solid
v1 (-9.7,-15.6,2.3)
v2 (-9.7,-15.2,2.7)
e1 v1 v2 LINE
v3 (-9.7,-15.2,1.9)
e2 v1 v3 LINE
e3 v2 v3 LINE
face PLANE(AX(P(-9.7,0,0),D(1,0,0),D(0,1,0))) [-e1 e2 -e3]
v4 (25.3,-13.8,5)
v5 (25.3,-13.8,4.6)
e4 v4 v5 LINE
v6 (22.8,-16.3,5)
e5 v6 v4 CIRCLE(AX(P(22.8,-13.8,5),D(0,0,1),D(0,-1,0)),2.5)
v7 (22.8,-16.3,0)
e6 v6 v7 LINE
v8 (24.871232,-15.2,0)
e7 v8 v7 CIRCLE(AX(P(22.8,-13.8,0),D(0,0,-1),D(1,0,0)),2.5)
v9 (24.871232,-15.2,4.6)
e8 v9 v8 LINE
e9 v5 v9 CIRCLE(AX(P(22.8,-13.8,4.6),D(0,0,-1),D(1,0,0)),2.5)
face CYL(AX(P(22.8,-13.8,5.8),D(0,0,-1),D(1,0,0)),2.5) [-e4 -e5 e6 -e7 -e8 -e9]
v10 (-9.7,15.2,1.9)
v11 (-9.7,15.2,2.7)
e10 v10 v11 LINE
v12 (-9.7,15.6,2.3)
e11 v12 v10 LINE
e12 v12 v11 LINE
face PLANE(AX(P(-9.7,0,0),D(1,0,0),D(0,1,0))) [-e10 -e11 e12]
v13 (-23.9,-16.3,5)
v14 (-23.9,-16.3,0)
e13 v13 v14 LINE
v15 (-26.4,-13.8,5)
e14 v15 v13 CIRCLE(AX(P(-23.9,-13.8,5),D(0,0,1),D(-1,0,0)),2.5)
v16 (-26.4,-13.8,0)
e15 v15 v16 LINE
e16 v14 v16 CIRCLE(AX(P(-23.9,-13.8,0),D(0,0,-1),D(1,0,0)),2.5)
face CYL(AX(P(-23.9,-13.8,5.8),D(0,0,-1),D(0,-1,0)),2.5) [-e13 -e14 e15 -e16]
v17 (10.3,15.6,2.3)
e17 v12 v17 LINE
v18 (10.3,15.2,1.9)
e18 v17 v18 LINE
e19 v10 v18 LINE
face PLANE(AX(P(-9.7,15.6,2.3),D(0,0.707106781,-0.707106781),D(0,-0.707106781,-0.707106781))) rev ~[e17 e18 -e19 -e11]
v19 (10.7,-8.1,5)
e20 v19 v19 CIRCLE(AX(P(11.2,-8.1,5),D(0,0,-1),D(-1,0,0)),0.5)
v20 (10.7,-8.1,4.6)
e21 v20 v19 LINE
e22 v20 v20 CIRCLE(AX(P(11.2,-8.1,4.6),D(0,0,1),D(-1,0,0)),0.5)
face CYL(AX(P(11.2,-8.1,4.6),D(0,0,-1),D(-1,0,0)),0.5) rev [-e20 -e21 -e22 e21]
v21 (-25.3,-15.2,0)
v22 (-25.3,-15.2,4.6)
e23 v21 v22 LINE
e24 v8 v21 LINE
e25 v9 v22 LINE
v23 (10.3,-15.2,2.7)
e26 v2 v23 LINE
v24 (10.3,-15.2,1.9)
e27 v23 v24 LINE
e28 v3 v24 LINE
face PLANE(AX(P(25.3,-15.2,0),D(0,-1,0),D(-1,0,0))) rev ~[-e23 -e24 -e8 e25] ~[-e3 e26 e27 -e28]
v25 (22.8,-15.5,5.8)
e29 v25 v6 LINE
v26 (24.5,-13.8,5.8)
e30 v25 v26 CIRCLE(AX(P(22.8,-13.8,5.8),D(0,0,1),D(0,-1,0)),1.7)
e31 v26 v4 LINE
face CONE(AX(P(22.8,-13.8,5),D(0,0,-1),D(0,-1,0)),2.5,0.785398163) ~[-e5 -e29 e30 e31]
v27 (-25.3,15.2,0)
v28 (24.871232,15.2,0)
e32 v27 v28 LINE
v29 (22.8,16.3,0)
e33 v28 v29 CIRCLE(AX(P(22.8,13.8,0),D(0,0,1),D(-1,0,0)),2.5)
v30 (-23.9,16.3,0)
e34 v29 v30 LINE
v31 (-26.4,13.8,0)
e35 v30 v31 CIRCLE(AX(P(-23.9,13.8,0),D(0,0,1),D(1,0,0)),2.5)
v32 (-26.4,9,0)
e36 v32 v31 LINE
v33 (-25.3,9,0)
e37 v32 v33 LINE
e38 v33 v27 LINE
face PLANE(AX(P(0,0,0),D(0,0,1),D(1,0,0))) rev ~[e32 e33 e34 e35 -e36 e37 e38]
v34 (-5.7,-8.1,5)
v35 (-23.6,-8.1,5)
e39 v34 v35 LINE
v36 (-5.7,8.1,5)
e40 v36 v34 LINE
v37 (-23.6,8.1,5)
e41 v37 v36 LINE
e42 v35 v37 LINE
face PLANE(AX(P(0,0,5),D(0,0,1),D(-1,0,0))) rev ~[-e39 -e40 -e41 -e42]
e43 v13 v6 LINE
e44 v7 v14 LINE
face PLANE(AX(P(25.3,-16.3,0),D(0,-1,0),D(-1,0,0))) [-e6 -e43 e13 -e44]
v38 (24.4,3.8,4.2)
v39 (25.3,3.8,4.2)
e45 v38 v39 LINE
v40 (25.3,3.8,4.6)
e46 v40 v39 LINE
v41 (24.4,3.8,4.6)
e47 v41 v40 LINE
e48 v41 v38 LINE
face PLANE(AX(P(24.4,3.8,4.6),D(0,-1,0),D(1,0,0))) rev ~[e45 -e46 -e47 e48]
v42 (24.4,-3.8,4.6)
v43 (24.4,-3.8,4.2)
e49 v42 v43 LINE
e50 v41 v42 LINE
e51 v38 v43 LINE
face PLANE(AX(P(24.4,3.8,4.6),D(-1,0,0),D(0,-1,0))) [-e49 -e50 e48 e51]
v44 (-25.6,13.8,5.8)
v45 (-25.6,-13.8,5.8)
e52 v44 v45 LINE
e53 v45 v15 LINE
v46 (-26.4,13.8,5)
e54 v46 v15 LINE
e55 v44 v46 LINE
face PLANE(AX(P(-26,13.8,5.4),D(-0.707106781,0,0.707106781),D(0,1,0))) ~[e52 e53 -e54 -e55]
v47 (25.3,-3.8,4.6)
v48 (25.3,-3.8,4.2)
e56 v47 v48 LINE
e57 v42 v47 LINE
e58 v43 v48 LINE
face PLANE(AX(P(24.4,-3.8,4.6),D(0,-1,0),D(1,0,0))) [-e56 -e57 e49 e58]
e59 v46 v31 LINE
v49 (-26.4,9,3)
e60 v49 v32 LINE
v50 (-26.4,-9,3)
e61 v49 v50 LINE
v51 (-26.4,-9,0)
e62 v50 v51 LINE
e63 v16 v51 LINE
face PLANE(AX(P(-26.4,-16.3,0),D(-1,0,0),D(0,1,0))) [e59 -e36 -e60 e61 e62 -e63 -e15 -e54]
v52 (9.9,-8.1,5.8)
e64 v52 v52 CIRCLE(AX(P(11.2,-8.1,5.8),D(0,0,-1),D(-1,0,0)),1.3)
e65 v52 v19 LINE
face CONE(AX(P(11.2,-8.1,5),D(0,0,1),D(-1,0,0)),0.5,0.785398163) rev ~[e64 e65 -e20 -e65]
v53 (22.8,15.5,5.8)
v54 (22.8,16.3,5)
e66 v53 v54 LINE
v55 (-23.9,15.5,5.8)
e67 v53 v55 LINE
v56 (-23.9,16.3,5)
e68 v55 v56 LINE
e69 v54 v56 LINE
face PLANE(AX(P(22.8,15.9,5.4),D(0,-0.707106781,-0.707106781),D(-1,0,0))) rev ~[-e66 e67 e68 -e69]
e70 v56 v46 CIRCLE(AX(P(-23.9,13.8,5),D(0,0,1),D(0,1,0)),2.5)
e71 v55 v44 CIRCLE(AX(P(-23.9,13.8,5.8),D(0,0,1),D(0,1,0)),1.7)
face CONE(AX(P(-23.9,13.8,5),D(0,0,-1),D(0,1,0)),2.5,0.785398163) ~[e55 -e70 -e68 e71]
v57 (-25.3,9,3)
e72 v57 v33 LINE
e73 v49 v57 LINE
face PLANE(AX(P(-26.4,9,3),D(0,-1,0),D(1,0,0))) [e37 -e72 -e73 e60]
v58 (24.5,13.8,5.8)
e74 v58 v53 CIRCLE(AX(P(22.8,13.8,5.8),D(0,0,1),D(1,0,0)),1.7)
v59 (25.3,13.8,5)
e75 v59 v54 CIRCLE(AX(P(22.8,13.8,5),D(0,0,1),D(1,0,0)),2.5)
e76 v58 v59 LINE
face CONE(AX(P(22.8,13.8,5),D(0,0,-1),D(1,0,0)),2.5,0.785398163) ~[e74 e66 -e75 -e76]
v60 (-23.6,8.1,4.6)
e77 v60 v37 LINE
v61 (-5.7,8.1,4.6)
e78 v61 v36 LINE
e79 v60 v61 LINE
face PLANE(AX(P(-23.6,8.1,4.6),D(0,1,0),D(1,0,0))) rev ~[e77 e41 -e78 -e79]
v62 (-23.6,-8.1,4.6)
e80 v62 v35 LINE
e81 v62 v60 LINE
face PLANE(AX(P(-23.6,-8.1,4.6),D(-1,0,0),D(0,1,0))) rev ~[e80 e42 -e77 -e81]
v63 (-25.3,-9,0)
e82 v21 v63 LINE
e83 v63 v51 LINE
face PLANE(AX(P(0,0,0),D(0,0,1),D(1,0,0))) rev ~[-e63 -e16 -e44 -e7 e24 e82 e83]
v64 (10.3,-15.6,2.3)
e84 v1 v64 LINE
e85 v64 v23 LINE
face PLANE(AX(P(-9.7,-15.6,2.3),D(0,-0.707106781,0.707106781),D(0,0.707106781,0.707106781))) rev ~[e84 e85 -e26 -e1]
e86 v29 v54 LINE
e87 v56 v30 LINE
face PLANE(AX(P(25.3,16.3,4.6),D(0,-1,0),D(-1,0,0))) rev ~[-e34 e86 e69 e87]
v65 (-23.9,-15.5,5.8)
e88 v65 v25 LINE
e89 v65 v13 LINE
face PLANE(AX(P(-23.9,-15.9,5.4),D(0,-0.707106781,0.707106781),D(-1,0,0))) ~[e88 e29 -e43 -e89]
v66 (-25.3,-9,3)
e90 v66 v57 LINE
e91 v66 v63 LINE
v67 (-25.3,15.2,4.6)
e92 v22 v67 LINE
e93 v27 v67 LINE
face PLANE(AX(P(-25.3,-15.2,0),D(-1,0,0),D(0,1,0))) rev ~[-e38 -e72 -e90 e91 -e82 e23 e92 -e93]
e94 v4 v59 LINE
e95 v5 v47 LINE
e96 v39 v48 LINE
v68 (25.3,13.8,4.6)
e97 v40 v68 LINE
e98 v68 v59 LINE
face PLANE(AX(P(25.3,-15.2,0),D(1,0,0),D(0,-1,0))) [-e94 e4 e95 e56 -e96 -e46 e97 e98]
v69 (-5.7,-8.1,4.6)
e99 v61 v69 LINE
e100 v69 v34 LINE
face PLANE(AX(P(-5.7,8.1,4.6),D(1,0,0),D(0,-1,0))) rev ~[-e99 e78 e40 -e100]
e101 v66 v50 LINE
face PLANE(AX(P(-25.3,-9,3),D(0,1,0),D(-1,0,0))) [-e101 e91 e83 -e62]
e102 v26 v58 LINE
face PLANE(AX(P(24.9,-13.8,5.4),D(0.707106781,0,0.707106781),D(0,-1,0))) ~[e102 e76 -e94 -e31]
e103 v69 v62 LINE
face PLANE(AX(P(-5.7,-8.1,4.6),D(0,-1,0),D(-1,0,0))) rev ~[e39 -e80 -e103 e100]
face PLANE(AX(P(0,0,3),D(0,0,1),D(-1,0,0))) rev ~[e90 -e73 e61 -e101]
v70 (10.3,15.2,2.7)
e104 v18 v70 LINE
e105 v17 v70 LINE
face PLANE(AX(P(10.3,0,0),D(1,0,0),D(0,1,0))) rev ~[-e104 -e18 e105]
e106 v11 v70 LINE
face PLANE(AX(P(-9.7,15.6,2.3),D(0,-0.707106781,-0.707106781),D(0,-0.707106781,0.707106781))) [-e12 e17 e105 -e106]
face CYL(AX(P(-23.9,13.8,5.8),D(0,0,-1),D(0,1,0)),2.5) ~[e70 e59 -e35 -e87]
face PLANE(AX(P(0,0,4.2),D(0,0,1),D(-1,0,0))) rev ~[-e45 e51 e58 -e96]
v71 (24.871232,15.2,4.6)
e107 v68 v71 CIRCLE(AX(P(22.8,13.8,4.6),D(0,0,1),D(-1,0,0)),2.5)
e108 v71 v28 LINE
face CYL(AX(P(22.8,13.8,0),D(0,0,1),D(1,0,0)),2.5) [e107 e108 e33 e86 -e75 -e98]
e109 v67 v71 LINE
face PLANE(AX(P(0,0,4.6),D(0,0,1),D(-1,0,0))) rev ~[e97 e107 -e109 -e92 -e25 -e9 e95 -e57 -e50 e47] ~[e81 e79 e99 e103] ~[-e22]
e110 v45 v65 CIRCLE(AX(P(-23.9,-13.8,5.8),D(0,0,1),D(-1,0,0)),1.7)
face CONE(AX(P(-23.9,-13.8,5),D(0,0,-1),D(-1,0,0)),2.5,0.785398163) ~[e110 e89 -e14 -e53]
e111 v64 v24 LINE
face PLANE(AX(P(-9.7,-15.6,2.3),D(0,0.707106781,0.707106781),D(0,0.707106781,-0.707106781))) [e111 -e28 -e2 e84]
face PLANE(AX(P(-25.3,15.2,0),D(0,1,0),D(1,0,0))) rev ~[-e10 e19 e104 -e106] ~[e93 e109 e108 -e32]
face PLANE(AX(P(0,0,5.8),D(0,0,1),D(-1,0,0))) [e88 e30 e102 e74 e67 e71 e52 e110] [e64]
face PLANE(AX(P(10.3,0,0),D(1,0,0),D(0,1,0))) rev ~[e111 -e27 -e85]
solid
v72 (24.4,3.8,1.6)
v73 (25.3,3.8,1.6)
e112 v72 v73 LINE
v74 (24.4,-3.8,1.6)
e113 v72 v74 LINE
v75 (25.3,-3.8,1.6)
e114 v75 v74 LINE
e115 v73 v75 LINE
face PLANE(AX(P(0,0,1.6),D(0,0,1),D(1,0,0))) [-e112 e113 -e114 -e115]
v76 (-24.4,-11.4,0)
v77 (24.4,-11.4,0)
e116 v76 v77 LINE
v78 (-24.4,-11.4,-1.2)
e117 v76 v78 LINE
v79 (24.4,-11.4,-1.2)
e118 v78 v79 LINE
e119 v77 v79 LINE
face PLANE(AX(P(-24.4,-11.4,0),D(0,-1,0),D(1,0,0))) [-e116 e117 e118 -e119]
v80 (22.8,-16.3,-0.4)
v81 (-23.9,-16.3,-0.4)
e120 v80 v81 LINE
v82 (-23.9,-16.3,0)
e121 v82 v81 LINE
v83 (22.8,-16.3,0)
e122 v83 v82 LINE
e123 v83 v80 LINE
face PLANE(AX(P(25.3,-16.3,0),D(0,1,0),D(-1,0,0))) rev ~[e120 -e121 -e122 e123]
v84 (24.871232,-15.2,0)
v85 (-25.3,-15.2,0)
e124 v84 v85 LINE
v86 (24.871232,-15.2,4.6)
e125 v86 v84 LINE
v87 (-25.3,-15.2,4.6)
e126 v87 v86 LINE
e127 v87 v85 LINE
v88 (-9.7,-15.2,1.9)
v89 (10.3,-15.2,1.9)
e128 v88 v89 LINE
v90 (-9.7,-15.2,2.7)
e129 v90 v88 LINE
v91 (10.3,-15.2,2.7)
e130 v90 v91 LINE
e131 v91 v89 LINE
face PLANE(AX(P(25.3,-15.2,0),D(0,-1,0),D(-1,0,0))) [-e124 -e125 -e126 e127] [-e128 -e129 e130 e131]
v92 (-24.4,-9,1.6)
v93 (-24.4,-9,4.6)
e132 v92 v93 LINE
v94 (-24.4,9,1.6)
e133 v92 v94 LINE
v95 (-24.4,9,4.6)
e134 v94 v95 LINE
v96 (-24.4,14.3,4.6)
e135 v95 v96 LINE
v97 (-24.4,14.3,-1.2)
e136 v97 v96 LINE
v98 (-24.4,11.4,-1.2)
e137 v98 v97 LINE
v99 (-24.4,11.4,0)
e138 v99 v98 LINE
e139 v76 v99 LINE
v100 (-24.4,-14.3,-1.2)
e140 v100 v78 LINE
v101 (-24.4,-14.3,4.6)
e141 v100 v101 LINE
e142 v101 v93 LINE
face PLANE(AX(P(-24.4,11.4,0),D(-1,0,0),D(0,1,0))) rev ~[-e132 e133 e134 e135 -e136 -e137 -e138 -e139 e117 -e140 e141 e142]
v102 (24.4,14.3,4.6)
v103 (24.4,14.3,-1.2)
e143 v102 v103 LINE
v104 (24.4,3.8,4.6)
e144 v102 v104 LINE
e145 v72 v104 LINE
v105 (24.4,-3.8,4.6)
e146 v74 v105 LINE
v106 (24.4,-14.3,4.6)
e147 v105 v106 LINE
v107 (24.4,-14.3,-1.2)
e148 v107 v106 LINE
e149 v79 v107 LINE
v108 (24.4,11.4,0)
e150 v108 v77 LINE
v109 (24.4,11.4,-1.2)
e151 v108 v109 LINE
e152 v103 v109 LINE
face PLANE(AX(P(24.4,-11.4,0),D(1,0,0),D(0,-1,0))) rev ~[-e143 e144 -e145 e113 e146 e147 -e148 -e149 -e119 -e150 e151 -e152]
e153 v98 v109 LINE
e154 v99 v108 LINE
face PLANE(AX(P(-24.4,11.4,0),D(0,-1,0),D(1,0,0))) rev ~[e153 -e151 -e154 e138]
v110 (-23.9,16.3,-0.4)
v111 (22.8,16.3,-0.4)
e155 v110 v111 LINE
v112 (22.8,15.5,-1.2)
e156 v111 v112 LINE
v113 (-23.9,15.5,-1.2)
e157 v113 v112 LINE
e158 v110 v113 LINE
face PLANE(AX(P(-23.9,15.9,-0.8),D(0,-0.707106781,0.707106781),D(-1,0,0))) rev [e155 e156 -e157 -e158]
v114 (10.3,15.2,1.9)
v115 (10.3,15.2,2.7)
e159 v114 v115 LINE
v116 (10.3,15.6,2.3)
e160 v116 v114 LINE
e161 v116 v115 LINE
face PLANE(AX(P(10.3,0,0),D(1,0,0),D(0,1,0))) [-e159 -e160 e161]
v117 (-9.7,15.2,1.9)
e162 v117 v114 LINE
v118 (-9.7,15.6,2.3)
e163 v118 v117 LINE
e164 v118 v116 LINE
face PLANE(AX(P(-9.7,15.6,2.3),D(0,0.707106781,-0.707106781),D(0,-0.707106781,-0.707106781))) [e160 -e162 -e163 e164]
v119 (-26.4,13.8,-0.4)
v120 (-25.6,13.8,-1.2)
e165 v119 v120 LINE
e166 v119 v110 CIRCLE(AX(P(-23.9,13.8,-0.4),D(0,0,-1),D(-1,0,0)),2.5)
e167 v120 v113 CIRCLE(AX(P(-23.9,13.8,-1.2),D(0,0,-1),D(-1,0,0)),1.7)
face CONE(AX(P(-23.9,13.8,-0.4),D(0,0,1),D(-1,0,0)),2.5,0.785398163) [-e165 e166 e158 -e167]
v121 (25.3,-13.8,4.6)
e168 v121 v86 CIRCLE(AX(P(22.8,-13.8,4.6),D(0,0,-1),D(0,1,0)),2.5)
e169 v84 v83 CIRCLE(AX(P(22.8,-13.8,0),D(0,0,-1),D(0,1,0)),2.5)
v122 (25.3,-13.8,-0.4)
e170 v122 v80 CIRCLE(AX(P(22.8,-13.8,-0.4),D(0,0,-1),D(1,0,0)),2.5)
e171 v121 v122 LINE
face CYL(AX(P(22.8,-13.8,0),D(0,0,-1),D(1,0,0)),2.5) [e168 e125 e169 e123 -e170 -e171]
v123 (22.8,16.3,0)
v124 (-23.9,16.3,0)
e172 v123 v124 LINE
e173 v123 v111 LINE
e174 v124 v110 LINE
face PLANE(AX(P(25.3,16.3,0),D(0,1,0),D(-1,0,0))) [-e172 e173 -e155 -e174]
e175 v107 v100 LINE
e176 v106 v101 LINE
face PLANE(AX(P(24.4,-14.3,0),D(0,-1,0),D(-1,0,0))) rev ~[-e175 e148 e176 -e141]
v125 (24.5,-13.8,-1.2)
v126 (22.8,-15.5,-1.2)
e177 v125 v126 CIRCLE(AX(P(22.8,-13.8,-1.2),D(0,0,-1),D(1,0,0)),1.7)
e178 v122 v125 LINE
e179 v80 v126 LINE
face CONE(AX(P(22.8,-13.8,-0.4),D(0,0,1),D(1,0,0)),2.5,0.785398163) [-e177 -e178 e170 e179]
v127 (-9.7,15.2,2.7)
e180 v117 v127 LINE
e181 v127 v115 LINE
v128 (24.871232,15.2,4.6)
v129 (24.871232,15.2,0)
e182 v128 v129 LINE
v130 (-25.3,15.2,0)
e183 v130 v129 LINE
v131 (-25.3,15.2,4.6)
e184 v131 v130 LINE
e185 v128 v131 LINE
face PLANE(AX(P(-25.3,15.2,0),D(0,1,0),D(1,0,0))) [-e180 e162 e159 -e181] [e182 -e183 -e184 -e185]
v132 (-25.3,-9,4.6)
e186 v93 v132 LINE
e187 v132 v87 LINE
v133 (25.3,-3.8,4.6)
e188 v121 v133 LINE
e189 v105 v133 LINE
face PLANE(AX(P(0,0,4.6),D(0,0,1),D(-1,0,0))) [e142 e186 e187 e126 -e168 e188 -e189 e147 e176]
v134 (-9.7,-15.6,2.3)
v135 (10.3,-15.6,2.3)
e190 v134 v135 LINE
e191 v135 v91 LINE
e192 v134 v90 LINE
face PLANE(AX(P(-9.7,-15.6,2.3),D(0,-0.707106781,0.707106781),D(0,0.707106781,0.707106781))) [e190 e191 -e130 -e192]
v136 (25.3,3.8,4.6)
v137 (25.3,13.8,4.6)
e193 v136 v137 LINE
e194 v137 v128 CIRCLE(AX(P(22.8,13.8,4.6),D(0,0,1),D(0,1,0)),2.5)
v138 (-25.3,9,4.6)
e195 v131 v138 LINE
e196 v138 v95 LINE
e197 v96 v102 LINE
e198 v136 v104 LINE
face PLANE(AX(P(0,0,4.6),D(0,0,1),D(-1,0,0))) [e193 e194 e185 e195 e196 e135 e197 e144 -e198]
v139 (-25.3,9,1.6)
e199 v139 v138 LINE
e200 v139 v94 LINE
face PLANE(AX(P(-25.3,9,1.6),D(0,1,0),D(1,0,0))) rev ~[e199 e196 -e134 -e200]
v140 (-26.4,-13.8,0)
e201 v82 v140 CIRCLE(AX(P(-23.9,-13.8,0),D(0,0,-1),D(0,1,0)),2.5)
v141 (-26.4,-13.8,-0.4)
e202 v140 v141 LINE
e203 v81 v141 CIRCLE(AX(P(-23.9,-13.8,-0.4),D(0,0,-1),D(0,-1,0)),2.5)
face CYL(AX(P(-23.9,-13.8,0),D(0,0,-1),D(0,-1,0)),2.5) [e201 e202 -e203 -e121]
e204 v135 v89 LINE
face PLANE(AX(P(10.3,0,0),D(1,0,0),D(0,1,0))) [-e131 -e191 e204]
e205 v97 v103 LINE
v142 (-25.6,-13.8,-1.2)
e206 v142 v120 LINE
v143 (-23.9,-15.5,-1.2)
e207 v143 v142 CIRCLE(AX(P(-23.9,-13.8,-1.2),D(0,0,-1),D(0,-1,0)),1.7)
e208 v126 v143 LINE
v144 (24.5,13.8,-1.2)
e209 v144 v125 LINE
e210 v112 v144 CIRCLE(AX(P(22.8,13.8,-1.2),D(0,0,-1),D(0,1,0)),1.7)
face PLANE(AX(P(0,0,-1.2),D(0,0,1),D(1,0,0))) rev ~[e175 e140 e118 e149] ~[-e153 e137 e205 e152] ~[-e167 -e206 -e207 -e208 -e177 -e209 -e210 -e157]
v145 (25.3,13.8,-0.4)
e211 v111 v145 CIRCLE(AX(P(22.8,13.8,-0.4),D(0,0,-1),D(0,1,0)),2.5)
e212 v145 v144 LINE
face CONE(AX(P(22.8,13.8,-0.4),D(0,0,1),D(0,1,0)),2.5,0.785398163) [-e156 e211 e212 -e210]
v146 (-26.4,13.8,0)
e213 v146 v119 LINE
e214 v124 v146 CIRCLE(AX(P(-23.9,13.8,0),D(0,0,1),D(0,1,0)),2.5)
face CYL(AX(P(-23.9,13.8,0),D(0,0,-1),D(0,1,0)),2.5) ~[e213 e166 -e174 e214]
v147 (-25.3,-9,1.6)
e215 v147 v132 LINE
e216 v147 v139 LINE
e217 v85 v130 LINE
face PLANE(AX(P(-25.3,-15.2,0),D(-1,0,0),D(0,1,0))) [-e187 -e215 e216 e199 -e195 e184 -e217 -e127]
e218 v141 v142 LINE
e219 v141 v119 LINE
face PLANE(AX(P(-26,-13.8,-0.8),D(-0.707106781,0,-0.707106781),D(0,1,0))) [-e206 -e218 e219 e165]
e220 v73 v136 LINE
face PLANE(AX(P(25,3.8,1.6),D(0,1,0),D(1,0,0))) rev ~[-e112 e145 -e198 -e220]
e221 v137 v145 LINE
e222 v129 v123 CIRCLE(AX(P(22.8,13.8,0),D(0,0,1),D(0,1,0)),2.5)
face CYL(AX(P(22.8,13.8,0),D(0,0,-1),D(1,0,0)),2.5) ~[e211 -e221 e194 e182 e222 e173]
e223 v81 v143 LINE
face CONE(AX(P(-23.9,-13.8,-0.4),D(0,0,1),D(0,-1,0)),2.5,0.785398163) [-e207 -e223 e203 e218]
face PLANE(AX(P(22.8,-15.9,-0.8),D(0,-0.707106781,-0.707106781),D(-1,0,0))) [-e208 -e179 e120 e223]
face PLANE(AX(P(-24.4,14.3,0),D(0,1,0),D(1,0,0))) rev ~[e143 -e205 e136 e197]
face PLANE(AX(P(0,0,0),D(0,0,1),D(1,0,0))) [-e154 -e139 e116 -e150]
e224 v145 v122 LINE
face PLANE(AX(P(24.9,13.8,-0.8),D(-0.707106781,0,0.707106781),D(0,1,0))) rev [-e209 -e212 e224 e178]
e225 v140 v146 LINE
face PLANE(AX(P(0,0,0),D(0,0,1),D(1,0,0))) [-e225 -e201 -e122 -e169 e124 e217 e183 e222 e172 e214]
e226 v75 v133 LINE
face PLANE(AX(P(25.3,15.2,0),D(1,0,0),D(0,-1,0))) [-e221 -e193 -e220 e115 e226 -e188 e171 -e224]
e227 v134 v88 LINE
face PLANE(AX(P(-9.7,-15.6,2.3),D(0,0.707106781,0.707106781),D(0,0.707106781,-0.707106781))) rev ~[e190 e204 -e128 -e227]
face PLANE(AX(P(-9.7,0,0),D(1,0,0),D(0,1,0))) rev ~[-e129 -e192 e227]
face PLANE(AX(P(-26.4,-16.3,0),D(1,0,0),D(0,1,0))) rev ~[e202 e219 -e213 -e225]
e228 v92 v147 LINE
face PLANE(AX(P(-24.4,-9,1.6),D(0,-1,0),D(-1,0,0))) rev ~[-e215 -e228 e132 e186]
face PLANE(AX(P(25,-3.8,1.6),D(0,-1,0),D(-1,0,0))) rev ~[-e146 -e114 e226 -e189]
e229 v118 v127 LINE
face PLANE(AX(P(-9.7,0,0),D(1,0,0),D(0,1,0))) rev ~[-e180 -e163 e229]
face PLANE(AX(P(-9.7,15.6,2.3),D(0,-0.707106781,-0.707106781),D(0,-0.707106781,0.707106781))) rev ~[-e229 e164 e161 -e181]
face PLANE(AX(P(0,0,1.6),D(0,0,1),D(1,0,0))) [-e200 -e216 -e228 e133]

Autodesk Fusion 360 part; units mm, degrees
sketch "Board" plane through (0, 0, 0) normal (0, 0, 1) x (1, 0, 0)
  line L0 (-24.2, 14.1) -> (24.2, 14.1)
  line L1 (24.2, 14.1) -> (24.2, -14.1)
  line L2 (24.2, -14.1) -> (-24.2, -14.1)
  line L3 (-24.2, -14.1) -> (-24.2, 14.1)
  line L4 (-24.2, 14.1) -> (24.2, -14.1) construction
  line L5 (24.2, 14.1) -> (-24.2, -14.1) construction
  line L6 (18.3, 3.8) -> (25, 3.8)
  line L7 (25, 3.8) -> (25, -3.8)
  line L8 (25, -3.8) -> (18.3, -3.8)
  line L9 (18.3, -3.8) -> (18.3, 3.8)
  line L10 (-24.2, 0) -> (24.2, 0) construction
  line L11 (-23.4, 7.9) -> (-5.9, 7.9)
  line L12 (-5.9, 7.9) -> (-5.9, -7.9)
  line L13 (-5.9, -7.9) -> (-23.4, -7.9)
  line L14 (-23.4, -7.9) -> (-23.4, 7.9)
  line L15 (-30.2, 9) -> (-23.4, 9)
  line L16 (-23.4, 9) -> (-23.4, -9)
  line L17 (-23.4, -9) -> (-30.2, -9)
  line L18 (-30.2, -9) -> (-30.2, 9)
  line L19 (-24, 14) -> (24, 14)
  line L20 (24, 14) -> (24, 11.6)
  line L21 (24, 11.6) -> (-24, 11.6)
  line L22 (-24, 11.6) -> (-24, 14)
  line L23 (-24, -11.6) -> (24, -11.6)
  line L24 (24, -11.6) -> (24, -14)
  line L25 (24, -14) -> (-24, -14)
  line L26 (-24, -14) -> (-24, -11.6)
  line L27 (10.2, -7.6) -> (12.2, -7.6)
  line L28 (12.2, -7.6) -> (12.2, -8.6)
  line L29 (12.2, -8.6) -> (10.2, -8.6)
  line L30 (10.2, -8.6) -> (10.2, -7.6)
  point P0 (25, 0)
  point P1 (-23.4, 0)
  dimension "d1" = 48.4
  dimension "d2" = 28.2
  dimension "d3" = 7.6
  dimension "d4" = 6.7
  dimension "d5" = 0.8
  dimension "d6" = 17.5
  dimension "d7" = 15.8
  dimension "d8" = 0.8
  dimension "d9" = 18
  dimension "d10" = 6.8
  dimension "d11" = 2.4
  dimension "d12" = 0.1
  dimension "d13" = 0.2
  dimension "d14" = 48
  dimension "d15" = 2.4
  dimension "d16" = 0.1
  dimension "d17" = 0.2
  dimension "d18" = 48
  dimension "d64" = 2
  dimension "d65" = 1
  dimension "d66" = 12
  dimension "d67" = 5.5
sketch "Case" plane through (0, 0, 0) normal (0, 0, 1) x (1, 0, 0)
  line L0 (-24.2, 14.1) -> (24.2, 14.1) construction
  line L1 (24.2, 14.1) -> (24.2, -14.1) construction
  line L2 (24.2, -14.1) -> (-24.2, -14.1) construction
  line L3 (-24.2, -14.1) -> (-24.2, 14.1) construction
  line L4 (24.4, -14.3) -> (-24.4, -14.3)
  line L5 (-24.4, -14.3) -> (-24.4, 14.3)
  line L6 (-24.4, 14.3) -> (24.4, 14.3)
  line L7 (24.4, 14.3) -> (24.4, -14.3)
  line L8 (25.3, -15.2) -> (-25.3, -15.2)
  line L9 (-25.3, -15.2) -> (-25.3, 15.2)
  line L10 (-25.3, 15.2) -> (25.3, 15.2)
  line L11 (25.3, 15.2) -> (25.3, -15.2)
  line L12 (26.4, -16.3) -> (-26.4, -16.3) construction
  line L13 (-26.4, -16.3) -> (-26.4, 16.3)
  line L14 (-26.4, 16.3) -> (26.4, 16.3) construction
  line L15 (26.4, 16.3) -> (26.4, -16.3) construction
  line L16 (25.3, 15.2) -> (25.3, 16.3)
  line L17 (25.3, -15.2) -> (25.3, -16.3)
  line L18 (25.3, 16.3) -> (-26.4, 16.3)
  line L19 (25.3, -16.3) -> (-26.4, -16.3)
  line L20 (24, 11.6) -> (-24, 11.6) construction
  line L21 (-24, -11.6) -> (24, -11.6) construction
  line L22 (-24.4, -11.4) -> (24.4, -11.4)
  line L23 (-24.4, 11.4) -> (24.4, 11.4)
  dimension "d26" = 0.2
  dimension "d27" = 0.2
extrude "Extrude1" add sketch "Case" against normal blind 1.2 contours L5 L7 L22 L23 | L8 L9 L10 L13 L16 L17 L18 L19 | L8 L9 L10 L11 makes body 1 in component "Base"
extrude "Extrude2" add sketch "Case" along normal blind 1.6 contours L8 L9 L10 L11 bodies 1 in component "Base"
sketch "Sketch3" plane through (0, 0, 1.6) normal (0, 0, 1) x (-1, 0, 0) in component "Base"
  line L0 (24.4, -14.3) -> (-24.4, -14.3)
  line L1 (-24.4, -14.3) -> (-24.4, 14.3)
  line L2 (-24.4, 14.3) -> (24.4, 14.3)
  line L3 (24.4, 14.3) -> (24.4, -14.3)
  line L4 (-25.3, -15.2) -> (25.3, -15.2)
  line L5 (25.3, -15.2) -> (25.3, 15.2)
  line L6 (25.3, 15.2) -> (-25.3, 15.2)
  line L7 (-25.3, 15.2) -> (-25.3, -15.2)
  line L8 (-18.3, -3.8) -> (-25, -3.8)
  line L9 (-25, 3.8) -> (-18.3, 3.8)
  line L10 (-25.3, -15.2) -> (-25.3, 15.2)
  line L11 (-24.4, -14.3) -> (-24.4, 14.3)
  line L12 (24.4, -14.3) -> (-24.4, -14.3)
  line L13 (25.3, -15.2) -> (-25.3, -15.2)
  line L14 (24.4, 14.3) -> (24.4, -14.3)
  line L15 (25.3, 15.2) -> (25.3, -15.2)
  line L16 (-24.4, 14.3) -> (24.4, 14.3)
  line L17 (-25.3, 15.2) -> (25.3, 15.2)
  line L18 (-24.4, -3.8) -> (-25.3, -3.8)
  line L19 (-24.4, 3.8) -> (-25.3, 3.8)
  line L20 (30.2, -9) -> (23.4, -9)
  line L21 (23.4, 9) -> (30.2, 9)
extrude "Extrude5" add sketch "Sketch3" along normal blind 3 contours L0 L1 L3 L4 L5 L7 L8 L10 L11 L12 L13 L14 L15 L18 L20 | L1 L2 L3 L5 L6 L7 L9 L10 L11 L14 L15 L16 L17 L19 L21 bodies 1 in component "Base"
fillet "Fillet1" radius 2.5 4 edges at (25.3, -16.3, -0.6) (25.3, 16.3, -0.6) (-26.4, -16.3, -0.6) (-26.4, 16.3, -0.6) on bodies 1 in component "Base"
chamfer "Chamfer1" distance 0.8 angle 45 8 edges at (25.3, 0, -1.2) (24.5678, -15.5678, -1.2) (-0.55, -16.3, -1.2) (-25.6678, -15.5678, -1.2) (-26.4, 0, -1.2) (-25.6678, 15.5678, -1.2) (-0.55, 16.3, -1.2) (24.5678, 15.5678, -1.2) on bodies 1 in component "Base"
sketch "Sketch4" plane through (25.3, 0, 0) normal (1, 0, 0) x (0, 1, 0)
  line L0 (-13.8, -0.4) -> (13.8, -0.4)
  line L1 (13.8, -0.4) -> (13.8, 4.6)
  line L2 (13.8, 4.6) -> (3.8, 4.6)
  line L3 (3.8, 4.6) -> (3.8, 1.6)
  line L4 (3.8, 1.6) -> (-3.8, 1.6)
  line L5 (-3.8, 1.6) -> (-3.8, 4.6)
  line L6 (-3.8, 4.6) -> (-13.8, 4.6)
  line L7 (-13.8, 4.6) -> (-13.8, -0.4)
  line L8 (-15.2, 4.6) -> (-15.2, 0)
  line L9 (-15.2, 2.3) -> (-15.6, 2.3) construction
  line L10 (-15.6, 2.3) -> (-15.2, 1.9)
  line L11 (-15.6, 2.3) -> (-15.2, 2.7)
  line L12 (-15.2, 2.7) -> (-15.2, 1.9)
  line L13 (15.2, 0) -> (15.2, 4.6)
  line L14 (15.2, 2.3) -> (15.6, 2.3) construction
  line L15 (15.6, 2.3) -> (15.2, 1.9)
  line L16 (15.6, 2.3) -> (15.2, 2.7)
  line L17 (15.2, 2.7) -> (15.2, 1.9)
extrude "Extrude6" add sketch "Sketch4" along normal blind -15 and the other way blind 35 contours L8 L10 L11 L12 | L13 L15 L16 L17 bodies 1 in component "Base"
extrude "Extrude1'" add sketch "Case" along normal blind 4.6 separate body contours L8 L9 L10 L13 L16 L17 L18 L19 makes body 2 in component "Lid"
sketch "Sketch1" plane through (0, 0, 4.6) normal (0, 0, 1) x (-1, 0, 0) in component "Lid"
  line L0 (-25.3, 15.2) -> (25.3, 15.2)
  line L1 (25.3, 15.2) -> (25.3, -15.2)
  line L2 (25.3, -15.2) -> (-25.3, -15.2)
  line L3 (-25.3, -15.2) -> (-25.3, -16.3)
  line L4 (-25.3, -16.3) -> (26.4, -16.3)
  line L5 (26.4, -16.3) -> (26.4, 16.3)
  line L6 (26.4, 16.3) -> (-25.3, 16.3)
  line L7 (-25.3, 16.3) -> (-25.3, 15.2)
  line L8 (26.4, -16.3) -> (-25.3, -16.3)
  line L9 (-25.3, -16.3) -> (-25.3, 16.3)
  line L10 (-25.3, 16.3) -> (26.4, 16.3)
  line L11 (26.4, 16.3) -> (26.4, -16.3)
  line L12 (25.3, 15.2) -> (25.3, -15.2)
  line L13 (-24.4, -14.3) -> (-24.4, 14.3)
  line L14 (-24.4, -3.8) -> (-25.3, -3.8)
  line L15 (-24.4, 3.8) -> (-25.3, 3.8)
  line L16 (30.2, -9) -> (23.4, -9)
  line L17 (23.4, 9) -> (30.2, 9)
  line L18 (-12.2, 8.6) -> (-10.2, 8.6)
  line L19 (-10.2, 7.6) -> (-12.2, 7.6)
  line L20 (-10.2, 8.6) -> (-10.2, 7.6)
  line L21 (-12.2, 7.6) -> (-12.2, 8.6)
  line L22 (-10.2, 7.6) -> (-12.2, 8.6) construction
  line L23 (-10.2, 8.6) -> (-12.2, 7.6) construction
  circle A0 centre (-11.2, 8.1) radius 0.5
  line L24 (23.4, -7.9) -> (5.9, -7.9) construction
  line L25 (5.9, -7.9) -> (5.9, 7.9) construction
  line L26 (5.9, 7.9) -> (23.4, 7.9) construction
  line L27 (23.4, 7.9) -> (23.4, -7.9) construction
  line L28 (23.6, -8.1) -> (5.7, -8.1)
  line L29 (5.7, -8.1) -> (5.7, 8.1)
  line L30 (5.7, 8.1) -> (23.6, 8.1)
  line L31 (23.6, 8.1) -> (23.6, -8.1)
  point P0 (23.4, -7.9)
  point P1 (5.9, 7.9)
extrude "Extrude2'" cut sketch "Sketch1" along normal blind -4.6 and the other way blind 1.6 contours L1 L5 L11 L12 L16 L17 bodies 2 in component "Lid"
extrude "Extrude3" add sketch "Sketch1" along normal blind 1.2 contours L0 L1 L5 L6 L7 L9 L10 L11 L12 L17 | L0 L1 L2 L9 L12 L13 L14 L15 | L9 L13 L14 L15 | L1 L5 L11 L12 L16 L17 | L1 L2 L3 L4 L5 L8 L9 L11 L12 L16 | L18 L19 L21 A0 | L18 L19 L20 A0 | A0 | L28 L29 L30 L31 bodies 2 in component "Lid"
extrude "Extrude4" add sketch "Sketch1" against normal blind 0.4 contours L9 L13 L14 L15 bodies 2 in component "Lid"
fillet "Fillet1'" radius 2.5 4 edges at (25.3, -16.3, 2.9) (25.3, 16.3, 2.9) (-26.4, -16.3, 2.9) (-26.4, 16.3, 2.9) on bodies 2 in component "Lid"
chamfer "Chamfer1'" distance 0.8 angle 45 8 edges at (-0.55, 16.3, 5.8) (-25.6678, 15.5678, 5.8) (-26.4, 0, 5.8) (-25.6678, -15.5678, 5.8) (-0.55, -16.3, 5.8) (24.5678, -15.5678, 5.8) (25.3, 0, 5.8) (24.5678, 15.5678, 5.8) on bodies 2 in component "Lid"
extrude "Extrude5'" cut sketch "Sketch4" along normal blind -15 and the other way blind 35 contours L8 L10 L11 L12 | L13 L15 L16 L17 bodies 2 in component "Lid"
extrude "Extrude6'" cut sketch "Sketch1" along normal blind 1.2 contours A0 bodies 2 in component "Lid"
chamfer "Chamfer2" distance 0.8 angle 45 1 edges at (11.6662, -8.2808, 5.8) on bodies 2 in component "Lid"
extrude "Extrude7" cut sketch "Sketch1" along normal blind 0.4 contours L28 L29 L30 L31 bodies 2 in component "Lid"
component "Base" placed x (1, 0, 0) y (0, 1, 0) z (0, 0, 1) at (0, 0, 0)
component "Lid" placed x (1, 0, 0) y (0, 1, 0) z (0, 0, 1) at (0, 0, 0)
equation "d19 = -fit_tollerance"
equation "inner_wall_thickness = 0.9 mm"
equation "outer_wall_thickness = 1.1 mm"
equation "base_thickness = 1.2 mm"
equation "fit_tollerance = 0.2 mm"
equation "d24 = -fit_tollerance - inner_wall_thickness"
equation "d25 = -fit_tollerance - inner_wall_thickness - outer_wall_thickness"
equation "d26 = fit_tollerance"
equation "d27 = fit_tollerance"
equation "d28 = -base_thickness"
equation "board_thickness = 1.6 mm"
equation "componnet_thickness = 3 mm"
equation "d32 = board_thickness"
equation "d38 = componnet_thickness"
equation "d43 = board_thickness + componnet_thickness"
equation "d45 = -componnet_thickness - board_thickness"
equation "d47 = componnet_thickness - 1.4 mm"
equation "d49 = base_thickness"
equation "d68 = base_thickness"
equation "d71 = -fit_tollerance"
